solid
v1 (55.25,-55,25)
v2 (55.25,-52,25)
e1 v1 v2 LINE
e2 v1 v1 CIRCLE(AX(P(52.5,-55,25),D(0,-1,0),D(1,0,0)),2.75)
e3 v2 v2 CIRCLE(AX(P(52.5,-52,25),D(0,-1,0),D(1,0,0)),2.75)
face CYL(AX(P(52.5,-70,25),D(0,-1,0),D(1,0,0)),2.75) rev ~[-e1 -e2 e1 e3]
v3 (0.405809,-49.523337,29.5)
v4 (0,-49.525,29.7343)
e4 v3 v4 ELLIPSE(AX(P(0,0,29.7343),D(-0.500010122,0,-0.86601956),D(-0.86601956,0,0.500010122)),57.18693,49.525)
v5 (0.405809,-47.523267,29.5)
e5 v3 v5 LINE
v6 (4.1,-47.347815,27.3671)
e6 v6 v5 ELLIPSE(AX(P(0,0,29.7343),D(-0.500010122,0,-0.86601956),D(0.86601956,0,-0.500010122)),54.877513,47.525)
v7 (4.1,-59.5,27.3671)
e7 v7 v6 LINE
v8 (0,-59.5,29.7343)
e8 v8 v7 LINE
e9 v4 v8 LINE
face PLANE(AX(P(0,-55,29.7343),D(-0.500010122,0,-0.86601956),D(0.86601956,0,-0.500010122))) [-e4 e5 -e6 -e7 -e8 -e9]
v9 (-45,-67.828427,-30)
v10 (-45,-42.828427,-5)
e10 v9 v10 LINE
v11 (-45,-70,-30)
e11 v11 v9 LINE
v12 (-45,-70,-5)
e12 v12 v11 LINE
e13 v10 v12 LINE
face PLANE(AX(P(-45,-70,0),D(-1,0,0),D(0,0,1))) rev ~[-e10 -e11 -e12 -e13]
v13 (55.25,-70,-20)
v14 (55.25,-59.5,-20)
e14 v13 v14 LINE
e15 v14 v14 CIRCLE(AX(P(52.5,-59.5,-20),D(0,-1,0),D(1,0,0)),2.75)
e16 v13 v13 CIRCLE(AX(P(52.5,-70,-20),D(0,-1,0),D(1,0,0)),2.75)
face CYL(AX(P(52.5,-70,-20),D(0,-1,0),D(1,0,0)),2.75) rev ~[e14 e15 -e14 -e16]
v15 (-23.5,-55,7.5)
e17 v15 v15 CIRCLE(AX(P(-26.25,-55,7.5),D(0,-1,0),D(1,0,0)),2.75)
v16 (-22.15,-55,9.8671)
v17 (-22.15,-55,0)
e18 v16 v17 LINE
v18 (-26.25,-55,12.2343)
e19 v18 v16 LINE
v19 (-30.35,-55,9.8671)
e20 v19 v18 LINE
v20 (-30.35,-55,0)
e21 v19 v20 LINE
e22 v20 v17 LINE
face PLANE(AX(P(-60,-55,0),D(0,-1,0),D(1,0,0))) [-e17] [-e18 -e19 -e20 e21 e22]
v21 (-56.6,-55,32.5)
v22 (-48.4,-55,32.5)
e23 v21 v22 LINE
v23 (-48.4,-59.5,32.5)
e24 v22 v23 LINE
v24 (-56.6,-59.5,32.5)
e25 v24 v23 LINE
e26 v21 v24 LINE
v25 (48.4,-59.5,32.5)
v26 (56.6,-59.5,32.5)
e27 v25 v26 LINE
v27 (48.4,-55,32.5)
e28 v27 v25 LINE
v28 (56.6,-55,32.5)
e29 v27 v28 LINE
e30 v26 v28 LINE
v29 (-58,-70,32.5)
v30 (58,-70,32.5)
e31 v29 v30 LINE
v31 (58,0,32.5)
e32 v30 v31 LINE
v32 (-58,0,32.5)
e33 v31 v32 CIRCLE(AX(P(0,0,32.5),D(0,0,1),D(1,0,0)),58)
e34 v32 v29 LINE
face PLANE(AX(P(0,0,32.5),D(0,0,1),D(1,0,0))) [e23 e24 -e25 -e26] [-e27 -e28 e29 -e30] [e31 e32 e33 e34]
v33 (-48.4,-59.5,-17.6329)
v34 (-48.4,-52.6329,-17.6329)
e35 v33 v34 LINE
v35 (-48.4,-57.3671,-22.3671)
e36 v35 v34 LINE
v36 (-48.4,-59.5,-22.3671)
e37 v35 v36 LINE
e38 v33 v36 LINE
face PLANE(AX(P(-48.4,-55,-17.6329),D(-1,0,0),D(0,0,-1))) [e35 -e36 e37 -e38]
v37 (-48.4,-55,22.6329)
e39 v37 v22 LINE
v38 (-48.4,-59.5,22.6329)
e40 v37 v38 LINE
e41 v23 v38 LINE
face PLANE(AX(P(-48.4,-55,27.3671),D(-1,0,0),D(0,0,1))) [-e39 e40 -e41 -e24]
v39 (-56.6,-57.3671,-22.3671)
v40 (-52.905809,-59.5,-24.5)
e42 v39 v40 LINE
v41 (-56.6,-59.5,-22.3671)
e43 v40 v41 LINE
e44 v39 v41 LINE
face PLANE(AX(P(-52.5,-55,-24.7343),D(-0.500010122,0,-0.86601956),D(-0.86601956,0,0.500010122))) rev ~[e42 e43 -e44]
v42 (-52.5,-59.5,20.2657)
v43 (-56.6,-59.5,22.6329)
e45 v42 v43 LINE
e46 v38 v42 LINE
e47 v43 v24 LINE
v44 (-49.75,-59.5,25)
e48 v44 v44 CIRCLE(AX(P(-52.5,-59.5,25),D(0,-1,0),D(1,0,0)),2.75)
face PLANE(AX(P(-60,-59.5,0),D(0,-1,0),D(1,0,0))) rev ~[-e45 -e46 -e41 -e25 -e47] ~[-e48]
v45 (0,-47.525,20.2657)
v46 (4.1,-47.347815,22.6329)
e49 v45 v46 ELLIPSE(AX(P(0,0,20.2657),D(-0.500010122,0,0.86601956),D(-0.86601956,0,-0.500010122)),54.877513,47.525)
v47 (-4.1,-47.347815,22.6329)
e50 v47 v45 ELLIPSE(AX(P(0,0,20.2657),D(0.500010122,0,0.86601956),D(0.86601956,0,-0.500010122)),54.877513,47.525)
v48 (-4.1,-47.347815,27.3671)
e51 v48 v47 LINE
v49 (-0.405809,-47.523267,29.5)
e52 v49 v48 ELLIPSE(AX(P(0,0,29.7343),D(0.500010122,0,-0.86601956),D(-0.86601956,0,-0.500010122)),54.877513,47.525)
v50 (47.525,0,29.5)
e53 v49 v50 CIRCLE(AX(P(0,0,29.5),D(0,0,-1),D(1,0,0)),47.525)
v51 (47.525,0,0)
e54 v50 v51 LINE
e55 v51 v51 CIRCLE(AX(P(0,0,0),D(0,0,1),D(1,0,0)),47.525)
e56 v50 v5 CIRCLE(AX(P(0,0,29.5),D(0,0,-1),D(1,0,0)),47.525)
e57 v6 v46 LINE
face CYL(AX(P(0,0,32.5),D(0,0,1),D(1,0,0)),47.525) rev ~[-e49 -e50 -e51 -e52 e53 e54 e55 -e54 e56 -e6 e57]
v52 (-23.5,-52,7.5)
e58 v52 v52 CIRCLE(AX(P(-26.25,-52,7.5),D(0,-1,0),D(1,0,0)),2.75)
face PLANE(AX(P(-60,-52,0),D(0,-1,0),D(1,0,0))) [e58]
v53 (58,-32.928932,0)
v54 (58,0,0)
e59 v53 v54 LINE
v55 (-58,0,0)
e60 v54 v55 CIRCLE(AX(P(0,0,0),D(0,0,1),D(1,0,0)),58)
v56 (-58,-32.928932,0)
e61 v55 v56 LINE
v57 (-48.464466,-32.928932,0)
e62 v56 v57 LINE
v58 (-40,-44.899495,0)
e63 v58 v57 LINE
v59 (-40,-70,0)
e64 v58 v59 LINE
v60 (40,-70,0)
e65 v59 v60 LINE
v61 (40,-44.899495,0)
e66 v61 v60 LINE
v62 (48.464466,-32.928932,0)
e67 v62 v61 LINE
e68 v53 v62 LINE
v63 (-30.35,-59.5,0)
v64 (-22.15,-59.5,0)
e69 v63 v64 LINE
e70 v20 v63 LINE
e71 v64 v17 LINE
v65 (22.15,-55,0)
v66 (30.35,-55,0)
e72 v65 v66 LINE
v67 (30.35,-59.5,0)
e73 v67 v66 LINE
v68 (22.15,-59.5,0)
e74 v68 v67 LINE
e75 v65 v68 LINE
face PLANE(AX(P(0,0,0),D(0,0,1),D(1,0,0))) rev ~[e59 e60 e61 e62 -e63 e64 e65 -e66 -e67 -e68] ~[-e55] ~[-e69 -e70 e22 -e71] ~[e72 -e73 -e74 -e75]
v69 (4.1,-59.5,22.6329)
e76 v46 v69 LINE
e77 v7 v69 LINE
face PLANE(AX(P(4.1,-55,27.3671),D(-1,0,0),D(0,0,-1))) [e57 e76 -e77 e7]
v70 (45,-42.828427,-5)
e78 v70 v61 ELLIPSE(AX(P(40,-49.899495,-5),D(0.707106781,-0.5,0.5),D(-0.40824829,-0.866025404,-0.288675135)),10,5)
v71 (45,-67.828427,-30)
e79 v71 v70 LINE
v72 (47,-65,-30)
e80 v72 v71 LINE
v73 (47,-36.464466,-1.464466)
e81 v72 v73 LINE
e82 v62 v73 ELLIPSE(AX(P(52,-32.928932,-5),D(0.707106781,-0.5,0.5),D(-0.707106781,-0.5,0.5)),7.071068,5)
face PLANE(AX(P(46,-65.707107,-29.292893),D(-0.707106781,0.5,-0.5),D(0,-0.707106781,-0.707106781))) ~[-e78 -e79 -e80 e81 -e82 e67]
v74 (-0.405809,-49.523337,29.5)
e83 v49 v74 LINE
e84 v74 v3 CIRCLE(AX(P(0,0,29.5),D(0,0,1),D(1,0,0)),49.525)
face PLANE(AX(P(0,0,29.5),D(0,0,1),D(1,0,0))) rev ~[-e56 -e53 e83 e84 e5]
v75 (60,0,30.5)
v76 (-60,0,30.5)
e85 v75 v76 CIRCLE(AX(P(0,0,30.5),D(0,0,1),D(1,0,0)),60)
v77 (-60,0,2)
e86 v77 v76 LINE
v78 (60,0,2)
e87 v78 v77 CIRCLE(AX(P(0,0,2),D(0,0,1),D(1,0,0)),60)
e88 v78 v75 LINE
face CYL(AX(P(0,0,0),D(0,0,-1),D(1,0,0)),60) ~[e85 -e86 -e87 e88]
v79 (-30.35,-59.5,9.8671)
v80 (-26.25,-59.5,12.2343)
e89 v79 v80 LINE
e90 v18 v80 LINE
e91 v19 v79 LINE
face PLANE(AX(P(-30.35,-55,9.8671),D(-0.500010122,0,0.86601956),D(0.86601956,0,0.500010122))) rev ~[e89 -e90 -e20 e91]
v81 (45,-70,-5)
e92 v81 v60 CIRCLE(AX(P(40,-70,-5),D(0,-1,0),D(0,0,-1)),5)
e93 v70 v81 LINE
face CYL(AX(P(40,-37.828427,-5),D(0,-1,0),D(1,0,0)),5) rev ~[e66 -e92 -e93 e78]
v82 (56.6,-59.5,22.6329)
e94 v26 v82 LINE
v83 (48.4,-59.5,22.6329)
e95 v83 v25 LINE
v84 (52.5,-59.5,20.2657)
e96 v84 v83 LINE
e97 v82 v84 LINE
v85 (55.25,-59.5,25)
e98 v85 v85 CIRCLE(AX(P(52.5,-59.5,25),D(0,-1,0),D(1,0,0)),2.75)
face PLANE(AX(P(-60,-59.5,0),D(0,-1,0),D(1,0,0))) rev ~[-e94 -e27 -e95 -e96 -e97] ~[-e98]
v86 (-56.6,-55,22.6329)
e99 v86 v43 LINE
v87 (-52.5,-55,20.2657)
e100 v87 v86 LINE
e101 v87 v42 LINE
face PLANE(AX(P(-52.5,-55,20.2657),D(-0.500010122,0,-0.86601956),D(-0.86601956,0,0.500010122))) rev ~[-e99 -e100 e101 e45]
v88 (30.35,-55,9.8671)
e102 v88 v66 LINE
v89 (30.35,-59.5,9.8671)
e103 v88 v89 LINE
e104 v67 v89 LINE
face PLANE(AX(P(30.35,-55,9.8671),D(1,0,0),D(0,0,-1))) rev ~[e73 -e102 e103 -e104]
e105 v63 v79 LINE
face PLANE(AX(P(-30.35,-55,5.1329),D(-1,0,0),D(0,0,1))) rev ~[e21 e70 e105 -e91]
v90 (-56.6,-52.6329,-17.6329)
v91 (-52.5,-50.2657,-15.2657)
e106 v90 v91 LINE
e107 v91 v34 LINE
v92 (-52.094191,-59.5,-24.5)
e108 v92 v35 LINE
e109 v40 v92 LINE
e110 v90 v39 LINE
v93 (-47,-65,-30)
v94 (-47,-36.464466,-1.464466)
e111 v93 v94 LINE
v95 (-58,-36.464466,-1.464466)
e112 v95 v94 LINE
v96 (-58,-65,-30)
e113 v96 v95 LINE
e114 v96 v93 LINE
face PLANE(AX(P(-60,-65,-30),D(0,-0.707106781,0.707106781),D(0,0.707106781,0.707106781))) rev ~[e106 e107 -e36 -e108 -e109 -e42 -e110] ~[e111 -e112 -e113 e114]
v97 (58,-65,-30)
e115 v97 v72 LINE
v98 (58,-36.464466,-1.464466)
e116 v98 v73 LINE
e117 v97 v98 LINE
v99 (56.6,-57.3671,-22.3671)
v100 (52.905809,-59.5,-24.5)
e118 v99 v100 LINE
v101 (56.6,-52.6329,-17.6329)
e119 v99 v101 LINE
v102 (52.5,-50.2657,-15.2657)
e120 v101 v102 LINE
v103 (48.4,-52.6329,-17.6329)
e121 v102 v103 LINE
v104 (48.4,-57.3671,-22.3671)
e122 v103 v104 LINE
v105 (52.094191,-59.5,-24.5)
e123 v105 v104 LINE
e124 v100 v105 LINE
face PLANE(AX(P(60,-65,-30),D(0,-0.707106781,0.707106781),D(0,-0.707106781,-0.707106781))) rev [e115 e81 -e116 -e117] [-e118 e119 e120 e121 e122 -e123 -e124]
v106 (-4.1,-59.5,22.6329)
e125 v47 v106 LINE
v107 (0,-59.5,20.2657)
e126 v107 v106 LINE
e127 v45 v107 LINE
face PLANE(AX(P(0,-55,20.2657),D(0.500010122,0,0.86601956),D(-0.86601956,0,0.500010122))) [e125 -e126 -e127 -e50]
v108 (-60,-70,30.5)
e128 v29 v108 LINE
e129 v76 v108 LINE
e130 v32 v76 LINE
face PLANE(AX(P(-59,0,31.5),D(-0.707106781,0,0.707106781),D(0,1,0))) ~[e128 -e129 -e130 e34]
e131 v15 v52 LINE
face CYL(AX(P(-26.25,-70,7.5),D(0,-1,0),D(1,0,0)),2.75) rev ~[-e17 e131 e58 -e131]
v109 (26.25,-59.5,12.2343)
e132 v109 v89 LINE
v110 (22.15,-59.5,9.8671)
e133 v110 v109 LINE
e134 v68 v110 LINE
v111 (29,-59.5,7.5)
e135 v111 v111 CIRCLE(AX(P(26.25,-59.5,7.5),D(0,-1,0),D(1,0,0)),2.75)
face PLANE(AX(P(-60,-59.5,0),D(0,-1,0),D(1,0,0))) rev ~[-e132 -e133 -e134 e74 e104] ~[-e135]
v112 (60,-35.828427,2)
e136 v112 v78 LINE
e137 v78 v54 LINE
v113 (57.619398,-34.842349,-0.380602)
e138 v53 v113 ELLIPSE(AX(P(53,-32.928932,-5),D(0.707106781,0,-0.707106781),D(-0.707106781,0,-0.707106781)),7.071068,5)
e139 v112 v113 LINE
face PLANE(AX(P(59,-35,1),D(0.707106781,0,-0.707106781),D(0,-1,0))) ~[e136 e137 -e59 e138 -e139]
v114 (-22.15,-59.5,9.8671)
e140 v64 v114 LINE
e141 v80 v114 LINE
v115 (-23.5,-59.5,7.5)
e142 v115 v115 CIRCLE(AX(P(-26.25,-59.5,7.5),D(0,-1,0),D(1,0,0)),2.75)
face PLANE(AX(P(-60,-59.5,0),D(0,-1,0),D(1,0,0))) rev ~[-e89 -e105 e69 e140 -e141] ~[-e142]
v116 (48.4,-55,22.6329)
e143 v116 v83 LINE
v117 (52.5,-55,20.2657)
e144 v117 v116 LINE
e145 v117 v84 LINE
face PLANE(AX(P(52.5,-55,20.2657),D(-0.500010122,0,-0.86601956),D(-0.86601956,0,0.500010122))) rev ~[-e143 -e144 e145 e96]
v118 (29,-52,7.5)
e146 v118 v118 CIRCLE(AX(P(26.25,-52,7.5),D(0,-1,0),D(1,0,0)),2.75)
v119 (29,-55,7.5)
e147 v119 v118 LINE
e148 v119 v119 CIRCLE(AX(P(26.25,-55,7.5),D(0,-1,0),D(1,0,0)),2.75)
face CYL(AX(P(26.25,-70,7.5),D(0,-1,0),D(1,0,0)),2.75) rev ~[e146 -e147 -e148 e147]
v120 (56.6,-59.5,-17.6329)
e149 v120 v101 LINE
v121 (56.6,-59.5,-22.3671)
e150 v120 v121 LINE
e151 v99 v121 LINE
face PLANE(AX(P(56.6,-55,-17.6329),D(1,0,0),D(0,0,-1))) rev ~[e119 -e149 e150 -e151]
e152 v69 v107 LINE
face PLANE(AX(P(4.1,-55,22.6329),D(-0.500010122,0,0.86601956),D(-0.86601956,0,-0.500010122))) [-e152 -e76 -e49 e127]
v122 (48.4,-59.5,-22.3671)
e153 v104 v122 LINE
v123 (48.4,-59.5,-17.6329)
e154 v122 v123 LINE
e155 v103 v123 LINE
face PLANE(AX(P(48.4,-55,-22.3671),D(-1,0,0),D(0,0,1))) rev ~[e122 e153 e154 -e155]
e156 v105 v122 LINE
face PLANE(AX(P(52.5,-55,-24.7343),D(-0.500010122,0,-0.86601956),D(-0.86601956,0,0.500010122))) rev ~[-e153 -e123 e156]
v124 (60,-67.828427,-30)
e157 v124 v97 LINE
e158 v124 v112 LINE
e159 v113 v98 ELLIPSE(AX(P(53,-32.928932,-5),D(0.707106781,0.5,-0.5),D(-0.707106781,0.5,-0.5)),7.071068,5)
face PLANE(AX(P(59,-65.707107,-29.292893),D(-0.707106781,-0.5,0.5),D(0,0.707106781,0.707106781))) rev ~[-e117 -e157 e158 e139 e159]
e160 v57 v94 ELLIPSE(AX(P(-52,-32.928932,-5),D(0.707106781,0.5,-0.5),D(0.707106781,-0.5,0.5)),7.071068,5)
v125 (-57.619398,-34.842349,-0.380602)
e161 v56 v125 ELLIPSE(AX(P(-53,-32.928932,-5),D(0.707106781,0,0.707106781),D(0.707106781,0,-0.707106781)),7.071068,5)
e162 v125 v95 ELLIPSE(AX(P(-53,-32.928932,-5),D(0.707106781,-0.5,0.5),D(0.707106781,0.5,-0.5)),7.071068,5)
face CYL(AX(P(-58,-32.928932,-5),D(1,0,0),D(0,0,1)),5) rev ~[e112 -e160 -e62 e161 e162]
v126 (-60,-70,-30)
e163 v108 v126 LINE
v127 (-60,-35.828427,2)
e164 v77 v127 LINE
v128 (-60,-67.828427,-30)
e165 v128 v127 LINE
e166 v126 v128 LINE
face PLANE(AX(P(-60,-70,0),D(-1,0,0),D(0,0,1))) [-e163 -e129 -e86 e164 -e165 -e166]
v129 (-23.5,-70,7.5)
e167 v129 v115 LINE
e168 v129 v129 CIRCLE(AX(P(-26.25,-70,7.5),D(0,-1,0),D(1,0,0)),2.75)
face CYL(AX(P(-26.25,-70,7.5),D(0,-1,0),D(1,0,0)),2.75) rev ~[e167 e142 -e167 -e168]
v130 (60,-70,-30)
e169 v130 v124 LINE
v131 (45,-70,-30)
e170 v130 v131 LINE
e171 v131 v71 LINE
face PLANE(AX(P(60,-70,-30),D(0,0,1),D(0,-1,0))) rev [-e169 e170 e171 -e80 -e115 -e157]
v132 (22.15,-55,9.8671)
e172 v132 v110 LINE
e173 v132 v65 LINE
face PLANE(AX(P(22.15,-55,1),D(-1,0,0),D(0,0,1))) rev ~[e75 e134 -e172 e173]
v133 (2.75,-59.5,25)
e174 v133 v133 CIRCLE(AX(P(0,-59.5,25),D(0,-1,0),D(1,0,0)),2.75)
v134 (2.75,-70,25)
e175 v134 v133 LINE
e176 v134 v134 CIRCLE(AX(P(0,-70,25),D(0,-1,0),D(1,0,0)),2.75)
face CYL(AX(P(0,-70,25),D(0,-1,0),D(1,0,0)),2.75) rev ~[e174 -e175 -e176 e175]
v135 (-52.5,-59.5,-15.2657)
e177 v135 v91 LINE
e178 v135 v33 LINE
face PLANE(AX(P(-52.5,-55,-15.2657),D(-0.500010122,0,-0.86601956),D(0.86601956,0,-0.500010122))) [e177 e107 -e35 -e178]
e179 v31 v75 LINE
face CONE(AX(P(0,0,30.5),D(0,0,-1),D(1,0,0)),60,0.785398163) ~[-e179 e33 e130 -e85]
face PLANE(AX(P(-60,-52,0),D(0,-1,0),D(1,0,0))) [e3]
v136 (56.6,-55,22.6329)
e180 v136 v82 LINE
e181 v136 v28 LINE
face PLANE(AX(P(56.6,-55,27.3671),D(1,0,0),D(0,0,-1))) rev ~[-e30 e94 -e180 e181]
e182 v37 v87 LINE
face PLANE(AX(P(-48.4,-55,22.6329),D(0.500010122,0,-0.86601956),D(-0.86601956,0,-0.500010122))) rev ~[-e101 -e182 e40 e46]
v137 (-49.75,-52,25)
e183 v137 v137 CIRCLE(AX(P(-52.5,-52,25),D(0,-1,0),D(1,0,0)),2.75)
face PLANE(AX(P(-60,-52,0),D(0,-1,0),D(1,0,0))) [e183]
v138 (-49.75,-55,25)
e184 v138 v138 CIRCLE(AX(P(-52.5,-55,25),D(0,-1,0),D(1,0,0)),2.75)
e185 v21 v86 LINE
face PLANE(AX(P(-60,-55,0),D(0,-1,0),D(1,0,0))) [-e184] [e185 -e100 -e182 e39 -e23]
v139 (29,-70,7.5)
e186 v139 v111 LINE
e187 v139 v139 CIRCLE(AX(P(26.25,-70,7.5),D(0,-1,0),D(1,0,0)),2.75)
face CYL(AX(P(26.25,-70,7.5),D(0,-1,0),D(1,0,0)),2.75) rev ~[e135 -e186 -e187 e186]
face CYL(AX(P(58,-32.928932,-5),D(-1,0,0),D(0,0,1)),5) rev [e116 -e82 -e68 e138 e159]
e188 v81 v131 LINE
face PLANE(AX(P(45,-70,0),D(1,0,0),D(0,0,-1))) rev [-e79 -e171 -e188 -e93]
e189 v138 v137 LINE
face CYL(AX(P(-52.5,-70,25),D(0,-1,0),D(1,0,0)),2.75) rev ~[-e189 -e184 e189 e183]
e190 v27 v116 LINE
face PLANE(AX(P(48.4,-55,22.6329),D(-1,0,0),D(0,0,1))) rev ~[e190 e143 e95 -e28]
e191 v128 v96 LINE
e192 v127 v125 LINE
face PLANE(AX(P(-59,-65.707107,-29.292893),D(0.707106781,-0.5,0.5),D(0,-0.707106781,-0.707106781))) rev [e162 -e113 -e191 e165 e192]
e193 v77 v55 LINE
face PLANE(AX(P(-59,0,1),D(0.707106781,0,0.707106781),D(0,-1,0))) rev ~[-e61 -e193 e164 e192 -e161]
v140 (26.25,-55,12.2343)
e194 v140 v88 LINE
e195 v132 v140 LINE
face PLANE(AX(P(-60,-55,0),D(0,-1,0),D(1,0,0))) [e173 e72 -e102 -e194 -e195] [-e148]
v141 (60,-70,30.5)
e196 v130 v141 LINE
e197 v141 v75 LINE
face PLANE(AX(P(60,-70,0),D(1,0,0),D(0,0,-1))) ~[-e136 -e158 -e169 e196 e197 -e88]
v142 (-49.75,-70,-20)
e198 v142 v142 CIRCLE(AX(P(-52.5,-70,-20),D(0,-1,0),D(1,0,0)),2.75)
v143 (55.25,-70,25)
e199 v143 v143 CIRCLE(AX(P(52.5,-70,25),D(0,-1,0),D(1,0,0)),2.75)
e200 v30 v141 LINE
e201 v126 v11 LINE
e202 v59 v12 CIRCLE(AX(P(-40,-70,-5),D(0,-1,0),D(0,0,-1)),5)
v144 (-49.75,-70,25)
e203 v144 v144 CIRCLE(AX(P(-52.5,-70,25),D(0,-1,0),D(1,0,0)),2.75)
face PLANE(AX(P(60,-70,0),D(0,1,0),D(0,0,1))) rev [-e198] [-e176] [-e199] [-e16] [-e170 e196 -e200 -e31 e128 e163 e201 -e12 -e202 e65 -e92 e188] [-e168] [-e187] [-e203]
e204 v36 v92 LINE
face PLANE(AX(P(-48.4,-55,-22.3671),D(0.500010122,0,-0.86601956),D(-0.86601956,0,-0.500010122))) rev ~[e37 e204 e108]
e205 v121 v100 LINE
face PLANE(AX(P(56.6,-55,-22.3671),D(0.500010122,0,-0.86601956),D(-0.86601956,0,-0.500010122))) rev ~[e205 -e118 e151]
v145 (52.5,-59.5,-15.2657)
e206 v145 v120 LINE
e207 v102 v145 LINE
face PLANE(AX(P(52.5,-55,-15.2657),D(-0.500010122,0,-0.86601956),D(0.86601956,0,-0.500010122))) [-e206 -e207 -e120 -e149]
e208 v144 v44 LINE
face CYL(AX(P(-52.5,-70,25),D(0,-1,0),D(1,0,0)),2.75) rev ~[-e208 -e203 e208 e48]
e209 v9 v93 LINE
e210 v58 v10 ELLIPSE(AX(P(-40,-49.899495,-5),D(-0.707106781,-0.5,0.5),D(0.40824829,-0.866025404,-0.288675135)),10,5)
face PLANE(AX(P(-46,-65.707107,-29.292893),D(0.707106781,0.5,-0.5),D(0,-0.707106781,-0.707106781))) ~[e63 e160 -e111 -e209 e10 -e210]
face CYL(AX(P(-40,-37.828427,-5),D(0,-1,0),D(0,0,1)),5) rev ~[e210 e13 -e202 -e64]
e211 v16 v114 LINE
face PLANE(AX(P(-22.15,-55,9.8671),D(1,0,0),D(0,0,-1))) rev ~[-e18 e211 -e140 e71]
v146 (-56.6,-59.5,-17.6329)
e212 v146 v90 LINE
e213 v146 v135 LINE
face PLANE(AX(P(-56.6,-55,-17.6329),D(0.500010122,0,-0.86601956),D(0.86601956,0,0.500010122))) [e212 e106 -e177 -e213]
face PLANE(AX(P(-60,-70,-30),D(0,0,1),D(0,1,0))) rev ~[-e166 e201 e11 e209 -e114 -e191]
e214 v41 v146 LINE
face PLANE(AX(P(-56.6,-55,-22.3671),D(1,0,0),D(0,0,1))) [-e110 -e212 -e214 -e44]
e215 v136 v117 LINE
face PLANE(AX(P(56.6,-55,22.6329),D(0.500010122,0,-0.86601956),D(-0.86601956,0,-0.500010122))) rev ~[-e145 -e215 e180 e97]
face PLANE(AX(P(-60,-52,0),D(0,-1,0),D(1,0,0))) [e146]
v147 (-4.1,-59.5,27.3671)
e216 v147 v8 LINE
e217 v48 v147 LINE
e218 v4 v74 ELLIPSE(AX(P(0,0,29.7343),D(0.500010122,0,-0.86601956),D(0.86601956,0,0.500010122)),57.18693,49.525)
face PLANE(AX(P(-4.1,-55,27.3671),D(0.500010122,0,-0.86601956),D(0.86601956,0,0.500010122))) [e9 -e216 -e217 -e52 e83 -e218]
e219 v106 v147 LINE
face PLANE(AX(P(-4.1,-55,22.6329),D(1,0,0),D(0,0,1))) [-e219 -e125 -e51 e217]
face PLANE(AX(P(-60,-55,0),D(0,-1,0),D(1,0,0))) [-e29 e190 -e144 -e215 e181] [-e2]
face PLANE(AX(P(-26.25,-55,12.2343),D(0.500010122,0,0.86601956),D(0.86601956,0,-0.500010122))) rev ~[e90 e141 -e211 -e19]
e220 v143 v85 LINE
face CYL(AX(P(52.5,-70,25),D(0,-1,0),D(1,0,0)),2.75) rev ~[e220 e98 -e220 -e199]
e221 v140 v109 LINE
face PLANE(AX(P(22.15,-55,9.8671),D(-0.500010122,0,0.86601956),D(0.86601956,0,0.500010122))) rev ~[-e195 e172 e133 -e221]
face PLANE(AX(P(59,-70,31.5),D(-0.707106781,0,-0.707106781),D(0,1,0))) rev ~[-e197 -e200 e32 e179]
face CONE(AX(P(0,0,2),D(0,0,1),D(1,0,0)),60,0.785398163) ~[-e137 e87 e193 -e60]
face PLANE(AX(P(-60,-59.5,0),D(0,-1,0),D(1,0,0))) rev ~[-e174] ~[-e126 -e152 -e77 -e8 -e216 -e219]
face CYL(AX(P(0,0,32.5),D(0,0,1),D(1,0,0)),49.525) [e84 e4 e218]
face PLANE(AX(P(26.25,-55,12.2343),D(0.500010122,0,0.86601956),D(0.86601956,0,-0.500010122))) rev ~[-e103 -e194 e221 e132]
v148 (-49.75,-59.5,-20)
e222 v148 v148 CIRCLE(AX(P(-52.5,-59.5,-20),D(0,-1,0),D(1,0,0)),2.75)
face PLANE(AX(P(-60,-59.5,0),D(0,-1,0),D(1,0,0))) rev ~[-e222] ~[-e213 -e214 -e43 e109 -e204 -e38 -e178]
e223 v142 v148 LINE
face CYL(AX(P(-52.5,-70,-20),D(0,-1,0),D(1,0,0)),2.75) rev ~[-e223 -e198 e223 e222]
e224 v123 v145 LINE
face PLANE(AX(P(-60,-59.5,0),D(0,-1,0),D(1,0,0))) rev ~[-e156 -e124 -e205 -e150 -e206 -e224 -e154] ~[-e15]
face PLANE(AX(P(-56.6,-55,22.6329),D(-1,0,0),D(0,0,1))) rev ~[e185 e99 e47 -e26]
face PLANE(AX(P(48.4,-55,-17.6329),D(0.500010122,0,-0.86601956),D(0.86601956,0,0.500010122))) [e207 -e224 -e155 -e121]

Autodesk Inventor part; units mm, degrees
ref_plane "YZ Plane" through (0, 0, 0) normal (1, 0, 0) x (0, 1, 0)
ref_plane "XZ Plane" through (0, 0, 0) normal (0, 1, 0) x (-1, 0, 0)
sketch "Sketch1" plane through (0, 0, 0) normal (0, 0, 1) x (1, 0, 0)
  circle A0 centre (0, 0) radius 47.525
  arc A1 (60, 0) -> (-60, 0) centre (0, 0) ccw
  line L0 (-60, 0) -> (-60, -70)
  line L1 (-60, -70) -> (60, -70)
  line L2 (60, -70) -> (60, 0)
  dimension "d0" = 95.05
  dimension "d2" = 70
  dimension "d43" = 60
extrude "Extrusion1" add sketch "Sketch1" along normal blind 32.5
sketch "Sketch2" plane through (0, 0, 0) normal (0, 0, -1) x (-1, 0, 0)
  circle A0 centre (0, 0) radius 47.525 projected
  circle A1 centre (0, 0) radius 45.525
  dimension "d5" = 2
extrude "Extrusion2" add sketch "Sketch2" against normal blind 1
sketch "Sketch3" plane through (0, 0, 32.5) normal (0, 0, 1) x (1, 0, 0)
  arc A0 (60, 0) -> (-60, 0) centre (0, 0) ccw construction
  line L0 (0, 0) -> (0, 55) construction
  circle A1 centre (0, 55) radius 2.6
  circle A2 centre (-52.3081, 16.9959) radius 2.6
  circle A3 centre (-32.3282, -44.4959) radius 2.6
  circle A4 centre (32.3282, -44.4959) radius 2.6
  circle A5 centre (52.3081, 16.9959) radius 2.6
  dimension "d8" = 5.2
  dimension "d9" = 55
  dimension "d12" = 360
extrude "Extrusion3" cut sketch "Sketch3" against normal through all
sketch "Sketch7" plane through (-60, -70, 0) normal (-1, 0, 0) x (0, 0, 1)
  line L0 (0, 0) -> (32.5, 0) projected
  line L1 (0, 0) -> (-30, 0)
  line L2 (-30, 0) -> (-30, 5)
  line L3 (0, 70) -> (0, 0) projected
  line L4 (-30, 5) -> (0, 35)
  line L5 (0, 0) -> (0, 35)
  dimension "d32" = 30
  dimension "d33" = 5
  dimension "d34" = 135
extrude "Extrusion7" add sketch "Sketch7" against normal blind 15
mirror "Mirror1" about plane through (0, 0, 0) normal (1, 0, 0) of "Extrusion7"
sketch "Sketch5" plane through (-60, -70, 0) normal (0, -1, 0) x (1, 0, 0)
  circle A0 centre (7.5, 25) radius 2.75
  circle A1 centre (112.5, 25) radius 2.75
  circle A2 centre (86.25, 7.5) radius 2.75
  circle A3 centre (33.75, 7.5) radius 2.75
  circle A4 centre (60, 25) radius 2.75
  line L0 (7.5, 25) -> (60, 25) construction
  line L1 (60, 25) -> (112.5, 25) construction
  line L2 (86.25, 7.5) -> (33.75, 7.5) construction
  line L3 (60, 25) -> (60, 7.5) construction
  line L4 (60, 7.5) -> (60, 0) construction
  line L5 (0, 0) -> (120, 0) construction
  line L6 (0, 32.5) -> (120, 32.5) construction
  line L7 (0, 0) -> (0, 32.5) construction
  line L8 (33.75, 25) -> (33.75, 7.5) construction
  line L9 (0, -30) -> (15, -30) construction
  line L10 (7.5, -30) -> (7.5, -20) construction
  line L11 (120, -30) -> (105, -30) construction
  line L12 (112.5, -30) -> (112.5, -20) construction
  line L13 (112.5, -20) -> (7.5, -20) construction
  circle A5 centre (7.5, -20) radius 2.75
  circle A6 centre (112.5, -20) radius 2.75
  line L14 (112.5, -20) -> (112.5, 25) construction
  line L15 (120, -30) -> (120, 32.5) projected
  dimension "d16" = 5.5
  dimension "d17" = 7.5
  dimension "d18" = 7.5
  dimension "d37" = 10
  dimension "d39" = 17.5
  dimension "d45" = 52.5
  dimension "d46" = 45
  dimension "d47" = 7.5
extrude "Extrusion4" cut sketch "Sketch5" against normal blind 18
ref_plane "Work Plane1" through (-60, -55, 0) normal (0, -1, 0) x (1, 0, 0)
sketch "Sketch6" plane through (-60, -55, 0) normal (0, -1, 0) x (1, 0, 0)
  circle A0 centre (112.5, 25) radius 2.75 projected
  circle A1 centre (60, 25) radius 2.75 projected
  circle A2 centre (33.75, 7.5) radius 2.75 projected
  line L0 (112.5, 29.7343) -> (116.6, 27.3671) construction
  line L1 (116.6, 27.3671) -> (116.6, 22.6329)
  line L2 (116.6, 22.6329) -> (112.5, 20.2657)
  line L3 (112.5, 20.2657) -> (108.4, 22.6329)
  line L4 (108.4, 22.6329) -> (108.4, 27.3671)
  line L5 (108.4, 27.3671) -> (112.5, 29.7343) construction
  line L6 (60, 29.7343) -> (64.1, 27.3671)
  line L7 (64.1, 27.3671) -> (64.1, 22.6329)
  line L8 (64.1, 22.6329) -> (60, 20.2657)
  line L9 (60, 20.2657) -> (55.9, 22.6329)
  line L10 (55.9, 22.6329) -> (55.9, 27.3671)
  line L11 (55.9, 27.3671) -> (60, 29.7343)
  circle A3 centre (33.75, 7.5) radius 2.75 projected
  line L12 (33.75, 2.7657) -> (29.65, 5.1329) construction
  line L13 (29.65, 5.1329) -> (29.65, 9.8671)
  line L14 (29.65, 9.8671) -> (33.75, 12.2343)
  line L15 (33.75, 12.2343) -> (37.85, 9.8671)
  line L16 (37.85, 9.8671) -> (37.85, 5.1329)
  line L17 (37.85, 5.1329) -> (33.75, 2.7657) construction
  circle A4 centre (86.25, 7.5) radius 2.75 projected
  line L18 (86.25, 2.7657) -> (82.15, 5.1329) construction
  line L19 (82.15, 5.1329) -> (82.15, 9.8671)
  line L20 (82.15, 9.8671) -> (86.25, 12.2343)
  line L21 (86.25, 12.2343) -> (90.35, 9.8671)
  line L22 (90.35, 9.8671) -> (90.35, 5.1329)
  line L23 (90.35, 5.1329) -> (86.25, 2.7657) construction
  circle A5 centre (7.5, 25) radius 2.75 projected
  line L24 (7.5, 20.2657) -> (3.4, 22.6329)
  line L25 (3.4, 22.6329) -> (3.4, 27.3671)
  line L26 (3.4, 27.3671) -> (7.5, 29.7343) construction
  line L27 (7.5, 29.7343) -> (11.6, 27.3671) construction
  line L28 (11.6, 27.3671) -> (11.6, 22.6329)
  line L29 (11.6, 22.6329) -> (7.5, 20.2657)
  line L30 (116.6, 27.3671) -> (116.6, 35.5137)
  line L31 (116.6, 35.5137) -> (108.4, 35.5137)
  line L32 (108.4, 35.5137) -> (108.4, 27.3671)
  line L33 (90.35, 5.1329) -> (90.35, -3.3085)
  line L34 (90.35, -3.3085) -> (82.15, -3.3085)
  line L35 (82.15, -3.3085) -> (82.15, 5.1329)
  line L36 (37.85, 5.1329) -> (37.85, -3.965)
  line L37 (37.85, -3.965) -> (29.65, -3.965)
  line L38 (29.65, -3.965) -> (29.65, 5.1329)
  line L39 (12.475, 1) -> (107.525, 1) projected
  line L40 (11.6, 27.3671) -> (11.6, 33.5607)
  line L41 (11.6, 33.5607) -> (3.4, 33.5607)
  line L42 (3.4, 33.5607) -> (3.4, 27.3671)
  circle A6 centre (112.5, -20) radius 2.75 projected
  circle A7 centre (112.5, -20) radius 2.75 projected
  circle A8 centre (7.5, -20) radius 2.75 projected
  line L43 (112.5, -24.7343) -> (108.4, -22.3671)
  line L44 (108.4, -22.3671) -> (108.4, -17.6329)
  line L45 (108.4, -17.6329) -> (112.5, -15.2657)
  line L46 (112.5, -15.2657) -> (116.6, -17.6329)
  line L47 (116.6, -17.6329) -> (116.6, -22.3671)
  line L48 (116.6, -22.3671) -> (112.5, -24.7343)
  line L49 (7.5, -24.7343) -> (3.4, -22.3671)
  line L50 (3.4, -22.3671) -> (3.4, -17.6329)
  line L51 (3.4, -17.6329) -> (7.5, -15.2657)
  line L52 (7.5, -15.2657) -> (11.6, -17.6329)
  line L53 (11.6, -17.6329) -> (11.6, -22.3671)
  line L54 (11.6, -22.3671) -> (7.5, -24.7343)
  point P0 (60, 0)
  point P1 (60, 25)
  point P2 (33.75, 7.5)
  point P3 (7.5, 25)
  point P4 (37.85, 1)
  point P5 (29.65, 1)
  point P6 (90.35, 1)
  point P7 (82.15, 1)
  point P8 (7.5, -20)
  dimension "d23" = 8.2
extrude "Extrusion5" cut sketch "Sketch6" along normal blind 4.5 contours A1 | L1 L2 L3 L4 L32 L31 L30 | L6 L7 L8 L9 L10 L11 | L35 L19 L20 L21 L22 L33 L39 | L39 L33 L34 L35 | L13 L14 L15 L16 L36 L39 L38 | L39 L36 L37 L38 | L24 L25 L42 L41 L40 L28 L29 | L43 L44 L45 L46 L47 L48 | L49 L50 L51 L52 L53 L54
extrude "Extrusion6" cut sketch "Sketch6" against normal blind 20.75 contours A1 | L6 L7 L8 L9 L10 L11 | L43 L44 L45 L46 L47 L48 | L49 L50 L51 L52 L53 L54
fillet "Fillet1" radius 2 1 edges at (-47.525, 0, 32.5)
chamfer "Chamfer1" distance 2 angle 45 10 edges at (0, 60, 32.5) (-60, -35, 32.5) (60, -35, 32.5) (0, 60, 0) (-60, -17.5, 0) (60, -17.5, 0) (-60, -50, -15) (-45, -50, -15) (45, -50, -15) (60, -50, -15)
fillet "Fillet2" radius 5 4 edges at (-45, -53.9142, 0) (45, -53.9142, 0) (52.5, -35, 0) (-52.5, -35, 0)
chamfer "Chamfer2" distance 2 angle 45 1 edges at (-47.525, 0, 1)
sketch "Sketch9" plane through (0, 0, 32.5) normal (0, 0, 1) x (1, 0, 0)
  circle A0 centre (0, 0) radius 47.525 projected
  circle A1 centre (0, 0) radius 47.525 projected
extrude "Extrusion8" cut sketch "Sketch9" against normal through all
sketch "Sketch10" plane through (0, 0, 32.5) normal (0, 0, 1) x (1, 0, 0)
  circle A0 centre (-32.3282, -44.4959) radius 2.6 projected
  circle A1 centre (-52.3081, 16.9959) radius 2.6 projected
  circle A2 centre (0, 55) radius 2.6 projected
  circle A3 centre (52.3081, 16.9959) radius 2.6 projected
  circle A4 centre (32.3282, -44.4959) radius 2.6 projected
  point P0 (0, 0)
extrude "Extrusion9" add sketch "Sketch10" against normal up to surface (32.5 mm away)
sketch "Sketch11" plane through (0, 0, 32.5) normal (0, 0, 1) x (1, 0, 0)
  circle A0 centre (0, 0) radius 49.525 projected
extrude "Extrusion10" add sketch "Sketch11" against normal blind 3
equation "\"d17\" = d47"
equation "\"d18\" = d47"
properties part number "J1_idlebracket"
